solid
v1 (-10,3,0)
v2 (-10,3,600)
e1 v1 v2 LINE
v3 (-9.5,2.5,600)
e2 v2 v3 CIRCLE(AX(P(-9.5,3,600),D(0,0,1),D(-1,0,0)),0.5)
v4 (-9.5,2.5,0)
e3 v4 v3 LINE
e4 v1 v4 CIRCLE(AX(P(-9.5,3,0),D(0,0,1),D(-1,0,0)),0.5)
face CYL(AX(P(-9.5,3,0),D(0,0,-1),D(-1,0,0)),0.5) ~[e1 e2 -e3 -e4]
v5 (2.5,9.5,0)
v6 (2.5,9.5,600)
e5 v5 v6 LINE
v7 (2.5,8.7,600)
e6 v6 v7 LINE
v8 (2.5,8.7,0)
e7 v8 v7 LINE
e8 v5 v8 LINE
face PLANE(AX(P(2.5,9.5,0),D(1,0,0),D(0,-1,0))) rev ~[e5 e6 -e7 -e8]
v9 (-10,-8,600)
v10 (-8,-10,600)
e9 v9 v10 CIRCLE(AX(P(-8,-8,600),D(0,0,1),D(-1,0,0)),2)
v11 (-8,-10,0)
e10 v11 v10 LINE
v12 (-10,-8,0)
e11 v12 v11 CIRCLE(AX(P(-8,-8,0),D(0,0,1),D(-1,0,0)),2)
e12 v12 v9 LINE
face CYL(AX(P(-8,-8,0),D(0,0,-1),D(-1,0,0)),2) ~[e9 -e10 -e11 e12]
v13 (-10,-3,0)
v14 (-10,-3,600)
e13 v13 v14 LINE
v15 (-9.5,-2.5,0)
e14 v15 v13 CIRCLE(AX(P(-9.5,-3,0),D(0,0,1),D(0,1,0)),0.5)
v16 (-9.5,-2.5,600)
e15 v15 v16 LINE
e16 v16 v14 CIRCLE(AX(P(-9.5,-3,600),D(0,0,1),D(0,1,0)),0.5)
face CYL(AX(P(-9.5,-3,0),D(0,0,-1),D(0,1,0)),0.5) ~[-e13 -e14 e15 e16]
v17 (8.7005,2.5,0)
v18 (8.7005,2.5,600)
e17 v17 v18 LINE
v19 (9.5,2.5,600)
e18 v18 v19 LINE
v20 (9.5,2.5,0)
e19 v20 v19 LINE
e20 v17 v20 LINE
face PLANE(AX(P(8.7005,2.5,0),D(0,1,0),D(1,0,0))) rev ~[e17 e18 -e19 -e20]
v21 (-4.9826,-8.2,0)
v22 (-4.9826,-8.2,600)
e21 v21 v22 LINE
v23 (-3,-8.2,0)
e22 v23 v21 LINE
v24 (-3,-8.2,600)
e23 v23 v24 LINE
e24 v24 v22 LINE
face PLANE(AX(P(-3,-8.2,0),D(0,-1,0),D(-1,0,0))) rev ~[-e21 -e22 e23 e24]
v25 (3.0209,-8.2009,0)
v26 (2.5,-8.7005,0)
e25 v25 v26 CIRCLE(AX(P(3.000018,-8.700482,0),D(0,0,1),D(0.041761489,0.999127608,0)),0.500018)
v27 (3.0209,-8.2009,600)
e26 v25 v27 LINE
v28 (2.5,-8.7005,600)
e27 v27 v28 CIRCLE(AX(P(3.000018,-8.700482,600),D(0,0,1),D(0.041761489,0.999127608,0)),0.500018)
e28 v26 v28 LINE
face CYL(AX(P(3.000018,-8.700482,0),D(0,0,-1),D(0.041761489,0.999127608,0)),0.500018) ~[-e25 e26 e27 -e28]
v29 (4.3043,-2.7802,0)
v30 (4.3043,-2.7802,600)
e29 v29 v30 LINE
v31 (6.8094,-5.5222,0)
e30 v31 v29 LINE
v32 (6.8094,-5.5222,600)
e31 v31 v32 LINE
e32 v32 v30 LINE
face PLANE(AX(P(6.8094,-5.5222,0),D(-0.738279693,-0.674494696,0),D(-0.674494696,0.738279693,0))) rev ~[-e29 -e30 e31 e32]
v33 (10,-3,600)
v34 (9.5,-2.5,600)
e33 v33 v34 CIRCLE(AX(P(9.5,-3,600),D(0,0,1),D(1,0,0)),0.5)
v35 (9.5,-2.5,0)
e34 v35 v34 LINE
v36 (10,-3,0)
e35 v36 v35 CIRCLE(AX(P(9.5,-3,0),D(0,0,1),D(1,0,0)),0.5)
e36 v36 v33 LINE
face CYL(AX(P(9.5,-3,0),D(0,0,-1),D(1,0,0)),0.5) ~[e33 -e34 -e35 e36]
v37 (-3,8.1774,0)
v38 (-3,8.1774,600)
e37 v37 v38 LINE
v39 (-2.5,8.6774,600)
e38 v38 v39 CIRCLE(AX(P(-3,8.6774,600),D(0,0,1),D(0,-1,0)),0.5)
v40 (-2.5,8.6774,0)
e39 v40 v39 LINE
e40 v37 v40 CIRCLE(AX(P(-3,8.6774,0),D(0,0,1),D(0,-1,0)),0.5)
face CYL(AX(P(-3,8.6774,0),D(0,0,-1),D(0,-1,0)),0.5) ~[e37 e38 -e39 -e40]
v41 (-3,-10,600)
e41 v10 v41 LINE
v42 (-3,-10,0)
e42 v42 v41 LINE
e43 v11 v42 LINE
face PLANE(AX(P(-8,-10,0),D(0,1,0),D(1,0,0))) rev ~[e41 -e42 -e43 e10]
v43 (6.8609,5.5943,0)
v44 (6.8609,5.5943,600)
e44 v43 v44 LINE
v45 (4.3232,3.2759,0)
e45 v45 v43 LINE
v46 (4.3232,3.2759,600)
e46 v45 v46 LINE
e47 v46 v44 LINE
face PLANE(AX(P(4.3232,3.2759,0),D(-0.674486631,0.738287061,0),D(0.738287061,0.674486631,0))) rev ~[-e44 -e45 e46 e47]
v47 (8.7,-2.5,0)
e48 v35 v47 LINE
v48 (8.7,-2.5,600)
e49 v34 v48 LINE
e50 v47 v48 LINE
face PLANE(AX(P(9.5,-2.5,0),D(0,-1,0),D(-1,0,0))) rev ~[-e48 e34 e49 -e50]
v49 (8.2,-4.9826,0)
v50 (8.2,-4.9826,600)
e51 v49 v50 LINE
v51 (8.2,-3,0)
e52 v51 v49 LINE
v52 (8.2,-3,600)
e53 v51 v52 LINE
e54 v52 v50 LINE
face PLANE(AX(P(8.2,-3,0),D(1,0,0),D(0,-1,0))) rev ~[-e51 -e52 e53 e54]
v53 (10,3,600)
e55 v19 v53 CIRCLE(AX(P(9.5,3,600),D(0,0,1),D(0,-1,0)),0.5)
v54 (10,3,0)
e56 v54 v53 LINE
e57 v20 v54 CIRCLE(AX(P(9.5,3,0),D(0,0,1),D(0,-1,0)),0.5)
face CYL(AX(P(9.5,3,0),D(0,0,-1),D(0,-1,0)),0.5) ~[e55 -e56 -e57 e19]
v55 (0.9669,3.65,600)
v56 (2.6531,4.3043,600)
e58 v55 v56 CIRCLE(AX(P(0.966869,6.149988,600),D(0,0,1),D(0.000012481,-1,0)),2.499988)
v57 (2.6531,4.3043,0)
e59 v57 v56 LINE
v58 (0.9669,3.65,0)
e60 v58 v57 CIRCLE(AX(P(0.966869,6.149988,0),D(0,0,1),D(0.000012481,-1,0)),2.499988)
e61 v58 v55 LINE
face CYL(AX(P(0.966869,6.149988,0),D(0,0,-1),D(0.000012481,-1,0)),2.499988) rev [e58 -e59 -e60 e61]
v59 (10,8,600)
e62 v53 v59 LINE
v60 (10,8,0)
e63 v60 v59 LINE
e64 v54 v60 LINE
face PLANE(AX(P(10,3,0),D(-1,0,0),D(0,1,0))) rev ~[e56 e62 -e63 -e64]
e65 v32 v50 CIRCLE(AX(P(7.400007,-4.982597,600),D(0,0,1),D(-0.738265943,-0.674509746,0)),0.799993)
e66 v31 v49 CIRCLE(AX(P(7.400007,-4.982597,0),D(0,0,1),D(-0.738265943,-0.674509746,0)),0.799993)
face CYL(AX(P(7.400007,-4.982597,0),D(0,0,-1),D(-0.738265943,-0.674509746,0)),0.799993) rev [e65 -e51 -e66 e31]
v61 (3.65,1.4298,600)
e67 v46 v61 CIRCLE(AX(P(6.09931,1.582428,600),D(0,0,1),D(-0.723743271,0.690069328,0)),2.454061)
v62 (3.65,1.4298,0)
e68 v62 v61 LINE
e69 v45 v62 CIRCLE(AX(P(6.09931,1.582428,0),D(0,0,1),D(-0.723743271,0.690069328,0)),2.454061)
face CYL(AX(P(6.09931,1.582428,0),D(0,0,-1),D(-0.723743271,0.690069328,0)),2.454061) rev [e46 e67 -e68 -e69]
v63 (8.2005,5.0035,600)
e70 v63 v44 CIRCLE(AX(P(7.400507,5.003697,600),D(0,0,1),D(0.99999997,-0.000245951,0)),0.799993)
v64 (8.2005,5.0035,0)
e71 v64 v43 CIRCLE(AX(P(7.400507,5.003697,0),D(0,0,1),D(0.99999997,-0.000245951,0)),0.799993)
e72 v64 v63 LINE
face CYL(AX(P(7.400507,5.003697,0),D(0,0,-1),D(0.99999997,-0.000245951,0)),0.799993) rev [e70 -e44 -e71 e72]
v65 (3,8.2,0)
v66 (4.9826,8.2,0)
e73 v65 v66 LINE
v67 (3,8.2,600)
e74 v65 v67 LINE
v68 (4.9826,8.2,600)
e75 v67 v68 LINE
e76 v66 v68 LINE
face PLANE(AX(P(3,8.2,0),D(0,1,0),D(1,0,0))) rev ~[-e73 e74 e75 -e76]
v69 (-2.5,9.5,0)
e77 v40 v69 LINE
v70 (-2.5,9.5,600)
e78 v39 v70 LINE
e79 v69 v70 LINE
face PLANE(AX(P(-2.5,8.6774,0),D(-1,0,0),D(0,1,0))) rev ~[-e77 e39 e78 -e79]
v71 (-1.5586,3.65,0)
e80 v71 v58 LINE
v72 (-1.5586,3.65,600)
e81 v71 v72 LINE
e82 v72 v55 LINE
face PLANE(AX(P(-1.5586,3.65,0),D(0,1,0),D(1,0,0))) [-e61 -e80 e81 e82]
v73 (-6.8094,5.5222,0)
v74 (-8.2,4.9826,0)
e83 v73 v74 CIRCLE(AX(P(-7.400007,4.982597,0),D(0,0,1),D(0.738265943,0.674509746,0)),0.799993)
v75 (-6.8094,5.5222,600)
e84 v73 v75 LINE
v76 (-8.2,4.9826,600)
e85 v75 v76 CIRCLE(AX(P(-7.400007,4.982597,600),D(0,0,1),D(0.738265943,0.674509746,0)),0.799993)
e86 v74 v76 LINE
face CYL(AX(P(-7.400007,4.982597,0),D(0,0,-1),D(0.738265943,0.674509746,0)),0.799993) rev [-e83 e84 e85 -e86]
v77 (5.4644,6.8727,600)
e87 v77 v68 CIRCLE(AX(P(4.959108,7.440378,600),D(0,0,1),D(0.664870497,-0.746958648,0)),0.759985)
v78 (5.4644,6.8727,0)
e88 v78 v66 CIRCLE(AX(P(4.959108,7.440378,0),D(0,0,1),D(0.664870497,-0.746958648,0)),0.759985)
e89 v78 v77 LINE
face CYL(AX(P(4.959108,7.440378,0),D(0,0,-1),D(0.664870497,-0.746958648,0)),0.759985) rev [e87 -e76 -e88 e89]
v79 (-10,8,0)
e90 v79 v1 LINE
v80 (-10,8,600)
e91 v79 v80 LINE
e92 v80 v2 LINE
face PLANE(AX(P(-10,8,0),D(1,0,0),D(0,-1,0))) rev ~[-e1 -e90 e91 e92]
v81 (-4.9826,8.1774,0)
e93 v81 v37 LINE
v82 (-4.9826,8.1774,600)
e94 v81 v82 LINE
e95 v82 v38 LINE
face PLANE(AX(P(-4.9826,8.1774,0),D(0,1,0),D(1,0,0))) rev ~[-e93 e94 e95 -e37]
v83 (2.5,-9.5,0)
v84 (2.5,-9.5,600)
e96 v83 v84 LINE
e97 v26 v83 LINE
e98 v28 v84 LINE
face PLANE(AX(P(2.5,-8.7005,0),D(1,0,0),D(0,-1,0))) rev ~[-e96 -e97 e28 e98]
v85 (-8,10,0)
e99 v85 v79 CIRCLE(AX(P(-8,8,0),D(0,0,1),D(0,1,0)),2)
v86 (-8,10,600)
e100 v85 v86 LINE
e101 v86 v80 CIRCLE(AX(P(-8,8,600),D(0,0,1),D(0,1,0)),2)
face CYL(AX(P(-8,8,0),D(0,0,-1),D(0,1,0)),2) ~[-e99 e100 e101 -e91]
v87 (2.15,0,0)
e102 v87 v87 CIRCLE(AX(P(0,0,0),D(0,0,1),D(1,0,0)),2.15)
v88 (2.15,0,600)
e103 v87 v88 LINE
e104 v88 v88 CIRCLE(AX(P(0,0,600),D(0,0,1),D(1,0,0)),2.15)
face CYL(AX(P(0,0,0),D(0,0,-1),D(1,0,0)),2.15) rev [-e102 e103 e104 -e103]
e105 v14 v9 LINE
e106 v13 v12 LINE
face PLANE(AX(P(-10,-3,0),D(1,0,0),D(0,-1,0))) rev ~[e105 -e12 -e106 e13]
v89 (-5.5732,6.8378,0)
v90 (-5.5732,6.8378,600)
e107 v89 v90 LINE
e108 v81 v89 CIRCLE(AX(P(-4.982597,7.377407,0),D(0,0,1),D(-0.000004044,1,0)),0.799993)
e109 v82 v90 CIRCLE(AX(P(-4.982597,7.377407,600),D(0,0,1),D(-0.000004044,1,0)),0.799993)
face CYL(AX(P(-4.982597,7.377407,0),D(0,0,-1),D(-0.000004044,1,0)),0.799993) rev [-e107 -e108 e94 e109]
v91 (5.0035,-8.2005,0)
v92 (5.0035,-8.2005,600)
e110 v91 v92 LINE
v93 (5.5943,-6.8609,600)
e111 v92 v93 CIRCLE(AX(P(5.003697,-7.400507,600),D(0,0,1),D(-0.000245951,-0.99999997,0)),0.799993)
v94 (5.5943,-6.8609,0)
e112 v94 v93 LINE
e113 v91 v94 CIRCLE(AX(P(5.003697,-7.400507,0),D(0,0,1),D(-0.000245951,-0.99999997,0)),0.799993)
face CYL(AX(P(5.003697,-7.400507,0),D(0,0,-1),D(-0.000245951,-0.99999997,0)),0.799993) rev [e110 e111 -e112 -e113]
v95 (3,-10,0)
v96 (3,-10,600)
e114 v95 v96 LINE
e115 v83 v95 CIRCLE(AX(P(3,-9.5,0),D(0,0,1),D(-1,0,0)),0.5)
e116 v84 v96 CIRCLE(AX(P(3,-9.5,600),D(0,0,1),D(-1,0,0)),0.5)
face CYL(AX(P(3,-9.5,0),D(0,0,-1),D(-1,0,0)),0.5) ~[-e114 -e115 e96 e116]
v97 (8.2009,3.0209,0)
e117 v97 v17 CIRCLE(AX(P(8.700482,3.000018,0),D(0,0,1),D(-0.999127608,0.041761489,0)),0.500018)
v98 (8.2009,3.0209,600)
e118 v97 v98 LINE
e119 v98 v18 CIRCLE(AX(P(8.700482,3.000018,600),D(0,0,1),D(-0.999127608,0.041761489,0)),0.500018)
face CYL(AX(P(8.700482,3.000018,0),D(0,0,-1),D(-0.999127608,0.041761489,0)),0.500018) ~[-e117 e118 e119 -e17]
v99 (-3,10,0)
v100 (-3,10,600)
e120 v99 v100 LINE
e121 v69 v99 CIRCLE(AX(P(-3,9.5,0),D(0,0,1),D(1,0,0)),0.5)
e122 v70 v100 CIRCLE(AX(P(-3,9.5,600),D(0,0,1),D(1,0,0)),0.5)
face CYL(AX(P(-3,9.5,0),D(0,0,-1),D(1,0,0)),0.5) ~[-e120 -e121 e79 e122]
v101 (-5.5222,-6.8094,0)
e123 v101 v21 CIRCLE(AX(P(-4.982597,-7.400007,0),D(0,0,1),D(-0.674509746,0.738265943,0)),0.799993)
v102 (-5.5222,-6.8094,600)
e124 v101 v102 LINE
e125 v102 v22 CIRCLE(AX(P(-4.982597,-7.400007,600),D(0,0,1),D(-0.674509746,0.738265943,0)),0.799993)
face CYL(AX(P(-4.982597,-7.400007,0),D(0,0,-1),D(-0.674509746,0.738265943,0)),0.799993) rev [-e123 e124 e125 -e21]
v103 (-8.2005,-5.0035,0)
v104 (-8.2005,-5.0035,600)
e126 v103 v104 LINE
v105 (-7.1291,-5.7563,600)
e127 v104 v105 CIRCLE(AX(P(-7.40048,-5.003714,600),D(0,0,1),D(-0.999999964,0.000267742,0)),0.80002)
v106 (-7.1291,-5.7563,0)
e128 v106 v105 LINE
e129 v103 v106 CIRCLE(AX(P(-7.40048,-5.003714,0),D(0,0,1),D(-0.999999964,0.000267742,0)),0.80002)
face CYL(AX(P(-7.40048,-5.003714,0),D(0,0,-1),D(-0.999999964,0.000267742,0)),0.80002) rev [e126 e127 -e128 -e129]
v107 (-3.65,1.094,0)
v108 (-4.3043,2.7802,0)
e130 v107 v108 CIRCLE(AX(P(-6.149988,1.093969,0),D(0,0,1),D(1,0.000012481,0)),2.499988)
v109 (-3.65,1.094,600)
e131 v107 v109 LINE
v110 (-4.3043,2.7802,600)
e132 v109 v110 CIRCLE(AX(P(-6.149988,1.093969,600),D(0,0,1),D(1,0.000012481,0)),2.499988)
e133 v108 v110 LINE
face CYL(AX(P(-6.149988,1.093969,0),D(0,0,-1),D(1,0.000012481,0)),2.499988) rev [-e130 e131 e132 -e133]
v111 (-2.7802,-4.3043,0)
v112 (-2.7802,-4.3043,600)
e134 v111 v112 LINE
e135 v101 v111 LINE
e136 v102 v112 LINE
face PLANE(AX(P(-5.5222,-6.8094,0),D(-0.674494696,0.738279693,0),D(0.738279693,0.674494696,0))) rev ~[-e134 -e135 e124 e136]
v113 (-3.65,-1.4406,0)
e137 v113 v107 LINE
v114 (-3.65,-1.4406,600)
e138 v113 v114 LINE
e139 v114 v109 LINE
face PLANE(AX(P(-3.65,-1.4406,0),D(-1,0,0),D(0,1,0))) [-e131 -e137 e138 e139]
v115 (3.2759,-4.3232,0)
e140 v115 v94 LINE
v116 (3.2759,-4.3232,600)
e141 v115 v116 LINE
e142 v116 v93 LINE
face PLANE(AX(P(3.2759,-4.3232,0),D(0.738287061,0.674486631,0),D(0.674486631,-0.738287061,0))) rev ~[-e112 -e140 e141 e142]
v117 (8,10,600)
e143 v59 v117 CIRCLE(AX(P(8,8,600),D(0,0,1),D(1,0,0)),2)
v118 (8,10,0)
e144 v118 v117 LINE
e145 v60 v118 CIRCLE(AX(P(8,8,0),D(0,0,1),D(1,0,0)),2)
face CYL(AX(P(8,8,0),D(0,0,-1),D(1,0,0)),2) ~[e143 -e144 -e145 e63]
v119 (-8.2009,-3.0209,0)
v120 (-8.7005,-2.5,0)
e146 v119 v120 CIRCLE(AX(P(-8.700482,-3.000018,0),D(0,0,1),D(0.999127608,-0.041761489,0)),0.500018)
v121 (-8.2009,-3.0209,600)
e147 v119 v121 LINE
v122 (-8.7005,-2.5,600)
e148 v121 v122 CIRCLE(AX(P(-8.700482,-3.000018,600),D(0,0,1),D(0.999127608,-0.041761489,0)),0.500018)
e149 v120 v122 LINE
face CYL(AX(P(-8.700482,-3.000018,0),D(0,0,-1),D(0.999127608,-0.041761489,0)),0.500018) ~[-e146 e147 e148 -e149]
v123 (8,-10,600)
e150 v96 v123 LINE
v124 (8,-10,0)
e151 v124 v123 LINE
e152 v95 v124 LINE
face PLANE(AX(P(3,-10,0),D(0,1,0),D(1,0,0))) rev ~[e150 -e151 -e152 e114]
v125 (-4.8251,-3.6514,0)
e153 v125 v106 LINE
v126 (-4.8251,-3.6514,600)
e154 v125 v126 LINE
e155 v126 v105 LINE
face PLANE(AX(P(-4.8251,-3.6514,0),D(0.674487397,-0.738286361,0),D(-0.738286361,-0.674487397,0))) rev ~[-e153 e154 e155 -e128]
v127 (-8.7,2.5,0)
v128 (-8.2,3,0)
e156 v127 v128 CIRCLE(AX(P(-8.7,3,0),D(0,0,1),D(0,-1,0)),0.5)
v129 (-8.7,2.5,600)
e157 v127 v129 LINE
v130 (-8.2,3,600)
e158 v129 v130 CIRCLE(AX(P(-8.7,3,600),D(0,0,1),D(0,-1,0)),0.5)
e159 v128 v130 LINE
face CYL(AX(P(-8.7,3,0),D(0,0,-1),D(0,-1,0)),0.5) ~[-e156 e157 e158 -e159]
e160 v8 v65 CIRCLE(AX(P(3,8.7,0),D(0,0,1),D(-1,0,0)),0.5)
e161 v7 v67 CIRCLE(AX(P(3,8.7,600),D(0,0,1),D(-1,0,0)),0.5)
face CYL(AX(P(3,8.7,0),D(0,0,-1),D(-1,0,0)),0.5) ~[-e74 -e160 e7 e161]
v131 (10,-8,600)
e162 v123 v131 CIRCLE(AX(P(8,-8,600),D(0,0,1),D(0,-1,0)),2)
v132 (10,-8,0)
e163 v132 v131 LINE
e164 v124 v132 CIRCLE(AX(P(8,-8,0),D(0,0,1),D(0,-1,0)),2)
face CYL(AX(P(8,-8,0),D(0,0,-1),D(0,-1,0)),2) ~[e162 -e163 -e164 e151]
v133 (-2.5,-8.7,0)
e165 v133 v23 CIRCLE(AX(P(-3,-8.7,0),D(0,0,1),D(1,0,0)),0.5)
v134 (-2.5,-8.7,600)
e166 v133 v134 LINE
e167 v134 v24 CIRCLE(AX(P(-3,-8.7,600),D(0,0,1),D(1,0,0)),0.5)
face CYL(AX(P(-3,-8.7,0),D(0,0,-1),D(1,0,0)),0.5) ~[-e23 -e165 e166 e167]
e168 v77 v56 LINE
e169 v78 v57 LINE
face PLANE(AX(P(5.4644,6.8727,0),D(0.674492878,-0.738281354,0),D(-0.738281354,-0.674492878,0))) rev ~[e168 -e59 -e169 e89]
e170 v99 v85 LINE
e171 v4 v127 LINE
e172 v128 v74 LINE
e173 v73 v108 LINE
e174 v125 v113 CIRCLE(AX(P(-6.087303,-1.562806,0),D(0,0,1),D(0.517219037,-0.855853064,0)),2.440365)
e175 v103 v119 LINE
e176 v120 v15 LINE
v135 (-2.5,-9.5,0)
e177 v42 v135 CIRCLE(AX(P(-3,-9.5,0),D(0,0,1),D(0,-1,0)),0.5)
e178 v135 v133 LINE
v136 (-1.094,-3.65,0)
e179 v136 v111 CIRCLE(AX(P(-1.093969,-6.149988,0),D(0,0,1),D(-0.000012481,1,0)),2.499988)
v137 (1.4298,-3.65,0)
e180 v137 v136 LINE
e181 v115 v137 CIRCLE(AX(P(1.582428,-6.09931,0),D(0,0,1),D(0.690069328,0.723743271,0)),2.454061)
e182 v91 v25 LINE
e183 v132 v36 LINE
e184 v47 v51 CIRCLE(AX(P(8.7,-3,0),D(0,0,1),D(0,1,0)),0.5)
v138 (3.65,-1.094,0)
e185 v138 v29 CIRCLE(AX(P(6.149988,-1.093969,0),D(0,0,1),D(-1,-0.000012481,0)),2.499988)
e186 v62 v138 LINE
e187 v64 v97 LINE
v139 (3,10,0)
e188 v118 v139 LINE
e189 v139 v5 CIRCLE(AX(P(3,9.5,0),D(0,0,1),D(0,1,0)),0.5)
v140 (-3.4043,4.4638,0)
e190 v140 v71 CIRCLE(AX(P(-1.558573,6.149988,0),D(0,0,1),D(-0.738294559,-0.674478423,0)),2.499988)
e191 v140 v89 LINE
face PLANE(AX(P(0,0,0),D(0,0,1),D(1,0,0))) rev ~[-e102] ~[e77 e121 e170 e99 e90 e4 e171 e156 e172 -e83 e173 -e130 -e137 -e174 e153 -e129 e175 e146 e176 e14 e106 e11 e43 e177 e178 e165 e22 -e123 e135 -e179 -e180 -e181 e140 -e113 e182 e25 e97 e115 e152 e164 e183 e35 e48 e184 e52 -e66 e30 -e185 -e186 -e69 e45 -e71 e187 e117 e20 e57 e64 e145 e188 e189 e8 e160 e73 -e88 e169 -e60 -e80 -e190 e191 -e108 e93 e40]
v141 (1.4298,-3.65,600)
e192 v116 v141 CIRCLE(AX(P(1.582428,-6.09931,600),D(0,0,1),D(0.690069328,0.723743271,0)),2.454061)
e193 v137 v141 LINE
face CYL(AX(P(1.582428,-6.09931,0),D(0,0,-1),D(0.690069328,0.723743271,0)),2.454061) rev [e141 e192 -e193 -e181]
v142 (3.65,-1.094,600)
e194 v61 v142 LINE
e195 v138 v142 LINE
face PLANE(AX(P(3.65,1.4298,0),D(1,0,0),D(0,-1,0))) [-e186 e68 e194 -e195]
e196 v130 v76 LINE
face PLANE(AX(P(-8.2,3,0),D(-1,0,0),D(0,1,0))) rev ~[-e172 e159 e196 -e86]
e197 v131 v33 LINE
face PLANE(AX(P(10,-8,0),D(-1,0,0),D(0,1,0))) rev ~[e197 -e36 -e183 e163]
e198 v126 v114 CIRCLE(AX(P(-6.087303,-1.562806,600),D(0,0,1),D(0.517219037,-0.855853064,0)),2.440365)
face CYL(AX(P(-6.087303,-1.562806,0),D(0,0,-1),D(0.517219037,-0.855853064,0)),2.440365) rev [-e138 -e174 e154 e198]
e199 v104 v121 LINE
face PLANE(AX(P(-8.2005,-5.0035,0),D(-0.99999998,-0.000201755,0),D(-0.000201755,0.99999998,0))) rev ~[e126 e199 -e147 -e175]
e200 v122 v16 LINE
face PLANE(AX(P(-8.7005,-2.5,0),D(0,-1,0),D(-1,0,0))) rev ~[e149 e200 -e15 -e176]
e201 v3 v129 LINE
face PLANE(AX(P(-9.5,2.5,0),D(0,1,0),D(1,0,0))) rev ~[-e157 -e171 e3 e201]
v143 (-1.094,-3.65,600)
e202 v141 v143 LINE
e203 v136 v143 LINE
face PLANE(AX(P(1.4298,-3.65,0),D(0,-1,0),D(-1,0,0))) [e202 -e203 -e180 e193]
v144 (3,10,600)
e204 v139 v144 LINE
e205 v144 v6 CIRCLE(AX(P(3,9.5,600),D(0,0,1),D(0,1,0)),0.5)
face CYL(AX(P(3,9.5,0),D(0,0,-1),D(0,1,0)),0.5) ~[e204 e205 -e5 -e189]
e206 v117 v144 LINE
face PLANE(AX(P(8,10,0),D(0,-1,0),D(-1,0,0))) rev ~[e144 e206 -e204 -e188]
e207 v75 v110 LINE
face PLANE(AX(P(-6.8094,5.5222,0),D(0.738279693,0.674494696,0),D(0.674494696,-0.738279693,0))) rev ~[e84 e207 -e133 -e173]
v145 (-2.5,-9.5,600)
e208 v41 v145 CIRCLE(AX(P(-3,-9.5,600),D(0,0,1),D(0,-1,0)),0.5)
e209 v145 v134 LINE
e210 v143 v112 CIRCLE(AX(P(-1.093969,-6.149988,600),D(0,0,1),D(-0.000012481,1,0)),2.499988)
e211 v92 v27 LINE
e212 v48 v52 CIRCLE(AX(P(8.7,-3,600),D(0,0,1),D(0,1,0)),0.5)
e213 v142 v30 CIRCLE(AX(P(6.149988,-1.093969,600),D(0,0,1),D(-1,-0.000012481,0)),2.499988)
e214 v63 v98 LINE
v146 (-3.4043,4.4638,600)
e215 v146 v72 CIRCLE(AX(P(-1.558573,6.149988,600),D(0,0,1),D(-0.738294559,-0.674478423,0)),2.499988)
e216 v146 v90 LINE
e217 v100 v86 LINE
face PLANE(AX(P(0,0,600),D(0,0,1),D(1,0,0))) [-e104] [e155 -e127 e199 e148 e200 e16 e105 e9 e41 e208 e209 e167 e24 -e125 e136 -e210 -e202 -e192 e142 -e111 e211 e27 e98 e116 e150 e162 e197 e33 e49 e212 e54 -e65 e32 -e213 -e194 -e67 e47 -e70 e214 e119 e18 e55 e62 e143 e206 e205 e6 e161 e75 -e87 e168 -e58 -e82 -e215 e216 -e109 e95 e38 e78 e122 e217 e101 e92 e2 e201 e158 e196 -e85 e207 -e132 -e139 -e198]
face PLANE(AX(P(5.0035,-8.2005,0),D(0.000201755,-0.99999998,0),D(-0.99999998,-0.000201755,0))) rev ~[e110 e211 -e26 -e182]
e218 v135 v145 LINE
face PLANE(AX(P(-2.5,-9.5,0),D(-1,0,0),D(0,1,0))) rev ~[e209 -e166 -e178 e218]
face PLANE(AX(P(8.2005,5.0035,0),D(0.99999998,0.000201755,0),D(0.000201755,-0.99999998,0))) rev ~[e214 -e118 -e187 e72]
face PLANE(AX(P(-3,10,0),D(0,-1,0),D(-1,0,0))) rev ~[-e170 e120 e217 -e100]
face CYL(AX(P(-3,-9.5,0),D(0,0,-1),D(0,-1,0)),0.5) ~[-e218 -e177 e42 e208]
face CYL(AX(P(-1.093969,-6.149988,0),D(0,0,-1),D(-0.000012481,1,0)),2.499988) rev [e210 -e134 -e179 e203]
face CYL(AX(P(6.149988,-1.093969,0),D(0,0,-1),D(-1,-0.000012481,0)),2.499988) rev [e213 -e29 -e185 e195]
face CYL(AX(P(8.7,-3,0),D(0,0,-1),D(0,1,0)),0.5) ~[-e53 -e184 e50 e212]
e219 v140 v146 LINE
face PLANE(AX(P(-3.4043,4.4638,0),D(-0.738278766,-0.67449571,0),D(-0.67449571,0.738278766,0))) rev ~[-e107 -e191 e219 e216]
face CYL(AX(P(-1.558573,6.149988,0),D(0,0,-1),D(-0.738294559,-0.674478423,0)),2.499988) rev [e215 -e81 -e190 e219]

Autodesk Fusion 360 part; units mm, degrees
sketch "Sketch2" plane through (0, 0, 0) normal (0, 0, 1) x (1, 0, 0) in component "Component"
  circle A0 centre (0, 0) radius 2.15
  line L0 (-3.4043, 4.4638) -> (-5.5732, 6.8378)
  line L1 (-4.9826, 8.1774) -> (-3, 8.1774)
  line L2 (-2.5, 8.6774) -> (-2.5, 9.5)
  line L3 (-3, 10) -> (-8, 10)
  line L4 (-10, 8) -> (-10, 3)
  line L5 (-9.5, 2.5) -> (-8.7, 2.5)
  line L6 (-8.2, 3) -> (-8.2, 4.9826)
  line L7 (-6.8094, 5.5222) -> (-4.3043, 2.7802)
  arc A1 (-8, 10) -> (-10, 8) centre (-8, 8) ccw
  arc A2 (-2.5, 9.5) -> (-3, 10) centre (-3, 9.5) ccw
  arc A3 (-10, 3) -> (-9.5, 2.5) centre (-9.5, 3) ccw
  arc A4 (-8.7, 2.5) -> (-8.2, 3) centre (-8.7, 3) ccw
  arc A5 (-6.8094, 5.5222) -> (-8.2, 4.9826) centre (-7.4, 4.9826) ccw
  arc A6 (-4.9826, 8.1774) -> (-5.5732, 6.8378) centre (-4.9826, 7.3774) ccw
  arc A7 (-3, 8.1774) -> (-2.5, 8.6774) centre (-3, 8.6774) ccw
  line L8 (-1.5586, 3.65) -> (0.9669, 3.65)
  arc A8 (-3.4043, 4.4638) -> (-1.5586, 3.65) centre (-1.5586, 6.15) ccw
  arc A9 (-4.8251, -3.6514) -> (-3.65, -1.4406) centre (-6.0873, -1.5628) ccw
  arc A10 (-8.2009, -3.0209) -> (-8.7005, -2.5) centre (-8.7005, -3) ccw
  arc A11 (-3, -10) -> (-2.5, -9.5) centre (-3, -9.5) ccw
  arc A12 (-9.5, -2.5) -> (-10, -3) centre (-9.5, -3) ccw
  line L9 (-2.5, -9.5) -> (-2.5, -8.7)
  line L10 (-10, -3) -> (-10, -8)
  line L11 (-8.7005, -2.5) -> (-9.5, -2.5)
  arc A13 (-2.5, -8.7) -> (-3, -8.2) centre (-3, -8.7) ccw
  line L12 (-4.8251, -3.6514) -> (-7.1291, -5.7563)
  line L13 (-3.65, -1.4406) -> (-3.65, 1.094)
  line L14 (-3, -8.2) -> (-4.9826, -8.2)
  arc A14 (-8.2005, -5.0035) -> (-7.1291, -5.7563) centre (-7.4005, -5.0037) ccw
  arc A15 (-5.5222, -6.8094) -> (-4.9826, -8.2) centre (-4.9826, -7.4) ccw
  line L15 (-8, -10) -> (-3, -10)
  line L16 (-8.2005, -5.0035) -> (-8.2009, -3.0209)
  line L17 (-5.5222, -6.8094) -> (-2.7802, -4.3043)
  arc A16 (3.2759, -4.3232) -> (1.4298, -3.65) centre (1.5824, -6.0993) ccw
  arc A17 (3.0209, -8.2009) -> (2.5, -8.7005) centre (3, -8.7005) ccw
  arc A18 (10, -3) -> (9.5, -2.5) centre (9.5, -3) ccw
  arc A19 (2.5, -9.5) -> (3, -10) centre (3, -9.5) ccw
  line L18 (9.5, -2.5) -> (8.7, -2.5)
  line L19 (3, -10) -> (8, -10)
  line L20 (2.5, -8.7005) -> (2.5, -9.5)
  arc A20 (8.7, -2.5) -> (8.2, -3) centre (8.7, -3) ccw
  arc A21 (8, -10) -> (10, -8) centre (8, -8) ccw
  line L21 (3.2759, -4.3232) -> (5.5943, -6.8609)
  line L22 (1.4298, -3.65) -> (-1.094, -3.65)
  line L23 (8.2, -3) -> (8.2, -4.9826)
  arc A22 (5.0035, -8.2005) -> (5.5943, -6.8609) centre (5.0037, -7.4005) ccw
  arc A23 (6.8094, -5.5222) -> (8.2, -4.9826) centre (7.4, -4.9826) ccw
  line L24 (10, -8) -> (10, -3)
  line L25 (5.0035, -8.2005) -> (3.0209, -8.2009)
  line L26 (6.8094, -5.5222) -> (4.3043, -2.7802)
  arc A24 (4.3232, 3.2759) -> (3.65, 1.4298) centre (6.0993, 1.5824) ccw
  arc A25 (8.2009, 3.0209) -> (8.7005, 2.5) centre (8.7005, 3) ccw
  arc A26 (3, 10) -> (2.5, 9.5) centre (3, 9.5) ccw
  arc A27 (9.5, 2.5) -> (10, 3) centre (9.5, 3) ccw
  line L27 (2.5, 9.5) -> (2.5, 8.7)
  line L28 (10, 3) -> (10, 8)
  line L29 (8.7005, 2.5) -> (9.5, 2.5)
  arc A28 (2.5, 8.7) -> (3, 8.2) centre (3, 8.7) ccw
  arc A29 (10, 8) -> (8, 10) centre (8, 8) ccw
  line L30 (4.3232, 3.2759) -> (6.8609, 5.5943)
  line L31 (3.65, 1.4298) -> (3.65, -1.094)
  line L32 (3, 8.2) -> (4.9826, 8.2)
  arc A30 (8.2005, 5.0035) -> (6.8609, 5.5943) centre (7.4005, 5.0037) ccw
  arc A31 (5.4644, 6.8727) -> (4.9826, 8.2) centre (4.9591, 7.4404) ccw
  line L33 (8, 10) -> (3, 10)
  line L34 (8.2005, 5.0035) -> (8.2009, 3.0209)
  line L35 (5.4644, 6.8727) -> (2.6531, 4.3043)
  arc A32 (0.9669, 3.65) -> (2.6531, 4.3043) centre (0.9669, 6.15) ccw
  arc A33 (3.65, -1.094) -> (4.3043, -2.7802) centre (6.15, -1.094) ccw
  arc A34 (-1.094, -3.65) -> (-2.7802, -4.3043) centre (-1.094, -6.15) ccw
  arc A35 (-3.65, 1.094) -> (-4.3043, 2.7802) centre (-6.15, 1.094) ccw
  arc A36 (-10, -8) -> (-8, -10) centre (-8, -8) ccw
  point P0 (-10, 10)
  point P1 (-10, 2.5)
  point P2 (-10, -7.3311)
  point P3 (-8, -10)
  point P4 (-10, -10)
  point P5 (-2.5, -10)
  point P6 (10, -10)
  point P7 (10, -2.5)
  point P8 (10, 10)
  point P9 (2.5, 10)
  dimension "d17" = 4.3
  dimension "d18" = 2
  dimension "d22" = 0.5
  dimension "d23" = 0.5
  dimension "d24" = 0.5
  dimension "d25" = 1.8
  dimension "d26" = 0.8
  dimension "d27" = 0.8
  dimension "d28" = 0.5
  dimension "d39" = 1.8
  dimension "d40" = 2.5
  dimension "d43" = 2.5
  dimension "d44" = 2.5
  dimension "d45" = 2.5
  dimension "d46" = 2.5
  dimension "d47" = 5
  dimension "d48" = 6.35
  dimension "d49" = 20
  dimension "d50" = 20
  dimension "d51" = 6.35
  dimension "d52" = 6.35
  dimension "d53" = 6.35
  dimension "d54" = 2
extrude "Extrude1" add sketch "Sketch2" along normal blind 600 in component "Component"
component "Component" placed x (1, 0, 0) y (0, 1, 0) z (0, 0, 1) at (0, 0, 0)
